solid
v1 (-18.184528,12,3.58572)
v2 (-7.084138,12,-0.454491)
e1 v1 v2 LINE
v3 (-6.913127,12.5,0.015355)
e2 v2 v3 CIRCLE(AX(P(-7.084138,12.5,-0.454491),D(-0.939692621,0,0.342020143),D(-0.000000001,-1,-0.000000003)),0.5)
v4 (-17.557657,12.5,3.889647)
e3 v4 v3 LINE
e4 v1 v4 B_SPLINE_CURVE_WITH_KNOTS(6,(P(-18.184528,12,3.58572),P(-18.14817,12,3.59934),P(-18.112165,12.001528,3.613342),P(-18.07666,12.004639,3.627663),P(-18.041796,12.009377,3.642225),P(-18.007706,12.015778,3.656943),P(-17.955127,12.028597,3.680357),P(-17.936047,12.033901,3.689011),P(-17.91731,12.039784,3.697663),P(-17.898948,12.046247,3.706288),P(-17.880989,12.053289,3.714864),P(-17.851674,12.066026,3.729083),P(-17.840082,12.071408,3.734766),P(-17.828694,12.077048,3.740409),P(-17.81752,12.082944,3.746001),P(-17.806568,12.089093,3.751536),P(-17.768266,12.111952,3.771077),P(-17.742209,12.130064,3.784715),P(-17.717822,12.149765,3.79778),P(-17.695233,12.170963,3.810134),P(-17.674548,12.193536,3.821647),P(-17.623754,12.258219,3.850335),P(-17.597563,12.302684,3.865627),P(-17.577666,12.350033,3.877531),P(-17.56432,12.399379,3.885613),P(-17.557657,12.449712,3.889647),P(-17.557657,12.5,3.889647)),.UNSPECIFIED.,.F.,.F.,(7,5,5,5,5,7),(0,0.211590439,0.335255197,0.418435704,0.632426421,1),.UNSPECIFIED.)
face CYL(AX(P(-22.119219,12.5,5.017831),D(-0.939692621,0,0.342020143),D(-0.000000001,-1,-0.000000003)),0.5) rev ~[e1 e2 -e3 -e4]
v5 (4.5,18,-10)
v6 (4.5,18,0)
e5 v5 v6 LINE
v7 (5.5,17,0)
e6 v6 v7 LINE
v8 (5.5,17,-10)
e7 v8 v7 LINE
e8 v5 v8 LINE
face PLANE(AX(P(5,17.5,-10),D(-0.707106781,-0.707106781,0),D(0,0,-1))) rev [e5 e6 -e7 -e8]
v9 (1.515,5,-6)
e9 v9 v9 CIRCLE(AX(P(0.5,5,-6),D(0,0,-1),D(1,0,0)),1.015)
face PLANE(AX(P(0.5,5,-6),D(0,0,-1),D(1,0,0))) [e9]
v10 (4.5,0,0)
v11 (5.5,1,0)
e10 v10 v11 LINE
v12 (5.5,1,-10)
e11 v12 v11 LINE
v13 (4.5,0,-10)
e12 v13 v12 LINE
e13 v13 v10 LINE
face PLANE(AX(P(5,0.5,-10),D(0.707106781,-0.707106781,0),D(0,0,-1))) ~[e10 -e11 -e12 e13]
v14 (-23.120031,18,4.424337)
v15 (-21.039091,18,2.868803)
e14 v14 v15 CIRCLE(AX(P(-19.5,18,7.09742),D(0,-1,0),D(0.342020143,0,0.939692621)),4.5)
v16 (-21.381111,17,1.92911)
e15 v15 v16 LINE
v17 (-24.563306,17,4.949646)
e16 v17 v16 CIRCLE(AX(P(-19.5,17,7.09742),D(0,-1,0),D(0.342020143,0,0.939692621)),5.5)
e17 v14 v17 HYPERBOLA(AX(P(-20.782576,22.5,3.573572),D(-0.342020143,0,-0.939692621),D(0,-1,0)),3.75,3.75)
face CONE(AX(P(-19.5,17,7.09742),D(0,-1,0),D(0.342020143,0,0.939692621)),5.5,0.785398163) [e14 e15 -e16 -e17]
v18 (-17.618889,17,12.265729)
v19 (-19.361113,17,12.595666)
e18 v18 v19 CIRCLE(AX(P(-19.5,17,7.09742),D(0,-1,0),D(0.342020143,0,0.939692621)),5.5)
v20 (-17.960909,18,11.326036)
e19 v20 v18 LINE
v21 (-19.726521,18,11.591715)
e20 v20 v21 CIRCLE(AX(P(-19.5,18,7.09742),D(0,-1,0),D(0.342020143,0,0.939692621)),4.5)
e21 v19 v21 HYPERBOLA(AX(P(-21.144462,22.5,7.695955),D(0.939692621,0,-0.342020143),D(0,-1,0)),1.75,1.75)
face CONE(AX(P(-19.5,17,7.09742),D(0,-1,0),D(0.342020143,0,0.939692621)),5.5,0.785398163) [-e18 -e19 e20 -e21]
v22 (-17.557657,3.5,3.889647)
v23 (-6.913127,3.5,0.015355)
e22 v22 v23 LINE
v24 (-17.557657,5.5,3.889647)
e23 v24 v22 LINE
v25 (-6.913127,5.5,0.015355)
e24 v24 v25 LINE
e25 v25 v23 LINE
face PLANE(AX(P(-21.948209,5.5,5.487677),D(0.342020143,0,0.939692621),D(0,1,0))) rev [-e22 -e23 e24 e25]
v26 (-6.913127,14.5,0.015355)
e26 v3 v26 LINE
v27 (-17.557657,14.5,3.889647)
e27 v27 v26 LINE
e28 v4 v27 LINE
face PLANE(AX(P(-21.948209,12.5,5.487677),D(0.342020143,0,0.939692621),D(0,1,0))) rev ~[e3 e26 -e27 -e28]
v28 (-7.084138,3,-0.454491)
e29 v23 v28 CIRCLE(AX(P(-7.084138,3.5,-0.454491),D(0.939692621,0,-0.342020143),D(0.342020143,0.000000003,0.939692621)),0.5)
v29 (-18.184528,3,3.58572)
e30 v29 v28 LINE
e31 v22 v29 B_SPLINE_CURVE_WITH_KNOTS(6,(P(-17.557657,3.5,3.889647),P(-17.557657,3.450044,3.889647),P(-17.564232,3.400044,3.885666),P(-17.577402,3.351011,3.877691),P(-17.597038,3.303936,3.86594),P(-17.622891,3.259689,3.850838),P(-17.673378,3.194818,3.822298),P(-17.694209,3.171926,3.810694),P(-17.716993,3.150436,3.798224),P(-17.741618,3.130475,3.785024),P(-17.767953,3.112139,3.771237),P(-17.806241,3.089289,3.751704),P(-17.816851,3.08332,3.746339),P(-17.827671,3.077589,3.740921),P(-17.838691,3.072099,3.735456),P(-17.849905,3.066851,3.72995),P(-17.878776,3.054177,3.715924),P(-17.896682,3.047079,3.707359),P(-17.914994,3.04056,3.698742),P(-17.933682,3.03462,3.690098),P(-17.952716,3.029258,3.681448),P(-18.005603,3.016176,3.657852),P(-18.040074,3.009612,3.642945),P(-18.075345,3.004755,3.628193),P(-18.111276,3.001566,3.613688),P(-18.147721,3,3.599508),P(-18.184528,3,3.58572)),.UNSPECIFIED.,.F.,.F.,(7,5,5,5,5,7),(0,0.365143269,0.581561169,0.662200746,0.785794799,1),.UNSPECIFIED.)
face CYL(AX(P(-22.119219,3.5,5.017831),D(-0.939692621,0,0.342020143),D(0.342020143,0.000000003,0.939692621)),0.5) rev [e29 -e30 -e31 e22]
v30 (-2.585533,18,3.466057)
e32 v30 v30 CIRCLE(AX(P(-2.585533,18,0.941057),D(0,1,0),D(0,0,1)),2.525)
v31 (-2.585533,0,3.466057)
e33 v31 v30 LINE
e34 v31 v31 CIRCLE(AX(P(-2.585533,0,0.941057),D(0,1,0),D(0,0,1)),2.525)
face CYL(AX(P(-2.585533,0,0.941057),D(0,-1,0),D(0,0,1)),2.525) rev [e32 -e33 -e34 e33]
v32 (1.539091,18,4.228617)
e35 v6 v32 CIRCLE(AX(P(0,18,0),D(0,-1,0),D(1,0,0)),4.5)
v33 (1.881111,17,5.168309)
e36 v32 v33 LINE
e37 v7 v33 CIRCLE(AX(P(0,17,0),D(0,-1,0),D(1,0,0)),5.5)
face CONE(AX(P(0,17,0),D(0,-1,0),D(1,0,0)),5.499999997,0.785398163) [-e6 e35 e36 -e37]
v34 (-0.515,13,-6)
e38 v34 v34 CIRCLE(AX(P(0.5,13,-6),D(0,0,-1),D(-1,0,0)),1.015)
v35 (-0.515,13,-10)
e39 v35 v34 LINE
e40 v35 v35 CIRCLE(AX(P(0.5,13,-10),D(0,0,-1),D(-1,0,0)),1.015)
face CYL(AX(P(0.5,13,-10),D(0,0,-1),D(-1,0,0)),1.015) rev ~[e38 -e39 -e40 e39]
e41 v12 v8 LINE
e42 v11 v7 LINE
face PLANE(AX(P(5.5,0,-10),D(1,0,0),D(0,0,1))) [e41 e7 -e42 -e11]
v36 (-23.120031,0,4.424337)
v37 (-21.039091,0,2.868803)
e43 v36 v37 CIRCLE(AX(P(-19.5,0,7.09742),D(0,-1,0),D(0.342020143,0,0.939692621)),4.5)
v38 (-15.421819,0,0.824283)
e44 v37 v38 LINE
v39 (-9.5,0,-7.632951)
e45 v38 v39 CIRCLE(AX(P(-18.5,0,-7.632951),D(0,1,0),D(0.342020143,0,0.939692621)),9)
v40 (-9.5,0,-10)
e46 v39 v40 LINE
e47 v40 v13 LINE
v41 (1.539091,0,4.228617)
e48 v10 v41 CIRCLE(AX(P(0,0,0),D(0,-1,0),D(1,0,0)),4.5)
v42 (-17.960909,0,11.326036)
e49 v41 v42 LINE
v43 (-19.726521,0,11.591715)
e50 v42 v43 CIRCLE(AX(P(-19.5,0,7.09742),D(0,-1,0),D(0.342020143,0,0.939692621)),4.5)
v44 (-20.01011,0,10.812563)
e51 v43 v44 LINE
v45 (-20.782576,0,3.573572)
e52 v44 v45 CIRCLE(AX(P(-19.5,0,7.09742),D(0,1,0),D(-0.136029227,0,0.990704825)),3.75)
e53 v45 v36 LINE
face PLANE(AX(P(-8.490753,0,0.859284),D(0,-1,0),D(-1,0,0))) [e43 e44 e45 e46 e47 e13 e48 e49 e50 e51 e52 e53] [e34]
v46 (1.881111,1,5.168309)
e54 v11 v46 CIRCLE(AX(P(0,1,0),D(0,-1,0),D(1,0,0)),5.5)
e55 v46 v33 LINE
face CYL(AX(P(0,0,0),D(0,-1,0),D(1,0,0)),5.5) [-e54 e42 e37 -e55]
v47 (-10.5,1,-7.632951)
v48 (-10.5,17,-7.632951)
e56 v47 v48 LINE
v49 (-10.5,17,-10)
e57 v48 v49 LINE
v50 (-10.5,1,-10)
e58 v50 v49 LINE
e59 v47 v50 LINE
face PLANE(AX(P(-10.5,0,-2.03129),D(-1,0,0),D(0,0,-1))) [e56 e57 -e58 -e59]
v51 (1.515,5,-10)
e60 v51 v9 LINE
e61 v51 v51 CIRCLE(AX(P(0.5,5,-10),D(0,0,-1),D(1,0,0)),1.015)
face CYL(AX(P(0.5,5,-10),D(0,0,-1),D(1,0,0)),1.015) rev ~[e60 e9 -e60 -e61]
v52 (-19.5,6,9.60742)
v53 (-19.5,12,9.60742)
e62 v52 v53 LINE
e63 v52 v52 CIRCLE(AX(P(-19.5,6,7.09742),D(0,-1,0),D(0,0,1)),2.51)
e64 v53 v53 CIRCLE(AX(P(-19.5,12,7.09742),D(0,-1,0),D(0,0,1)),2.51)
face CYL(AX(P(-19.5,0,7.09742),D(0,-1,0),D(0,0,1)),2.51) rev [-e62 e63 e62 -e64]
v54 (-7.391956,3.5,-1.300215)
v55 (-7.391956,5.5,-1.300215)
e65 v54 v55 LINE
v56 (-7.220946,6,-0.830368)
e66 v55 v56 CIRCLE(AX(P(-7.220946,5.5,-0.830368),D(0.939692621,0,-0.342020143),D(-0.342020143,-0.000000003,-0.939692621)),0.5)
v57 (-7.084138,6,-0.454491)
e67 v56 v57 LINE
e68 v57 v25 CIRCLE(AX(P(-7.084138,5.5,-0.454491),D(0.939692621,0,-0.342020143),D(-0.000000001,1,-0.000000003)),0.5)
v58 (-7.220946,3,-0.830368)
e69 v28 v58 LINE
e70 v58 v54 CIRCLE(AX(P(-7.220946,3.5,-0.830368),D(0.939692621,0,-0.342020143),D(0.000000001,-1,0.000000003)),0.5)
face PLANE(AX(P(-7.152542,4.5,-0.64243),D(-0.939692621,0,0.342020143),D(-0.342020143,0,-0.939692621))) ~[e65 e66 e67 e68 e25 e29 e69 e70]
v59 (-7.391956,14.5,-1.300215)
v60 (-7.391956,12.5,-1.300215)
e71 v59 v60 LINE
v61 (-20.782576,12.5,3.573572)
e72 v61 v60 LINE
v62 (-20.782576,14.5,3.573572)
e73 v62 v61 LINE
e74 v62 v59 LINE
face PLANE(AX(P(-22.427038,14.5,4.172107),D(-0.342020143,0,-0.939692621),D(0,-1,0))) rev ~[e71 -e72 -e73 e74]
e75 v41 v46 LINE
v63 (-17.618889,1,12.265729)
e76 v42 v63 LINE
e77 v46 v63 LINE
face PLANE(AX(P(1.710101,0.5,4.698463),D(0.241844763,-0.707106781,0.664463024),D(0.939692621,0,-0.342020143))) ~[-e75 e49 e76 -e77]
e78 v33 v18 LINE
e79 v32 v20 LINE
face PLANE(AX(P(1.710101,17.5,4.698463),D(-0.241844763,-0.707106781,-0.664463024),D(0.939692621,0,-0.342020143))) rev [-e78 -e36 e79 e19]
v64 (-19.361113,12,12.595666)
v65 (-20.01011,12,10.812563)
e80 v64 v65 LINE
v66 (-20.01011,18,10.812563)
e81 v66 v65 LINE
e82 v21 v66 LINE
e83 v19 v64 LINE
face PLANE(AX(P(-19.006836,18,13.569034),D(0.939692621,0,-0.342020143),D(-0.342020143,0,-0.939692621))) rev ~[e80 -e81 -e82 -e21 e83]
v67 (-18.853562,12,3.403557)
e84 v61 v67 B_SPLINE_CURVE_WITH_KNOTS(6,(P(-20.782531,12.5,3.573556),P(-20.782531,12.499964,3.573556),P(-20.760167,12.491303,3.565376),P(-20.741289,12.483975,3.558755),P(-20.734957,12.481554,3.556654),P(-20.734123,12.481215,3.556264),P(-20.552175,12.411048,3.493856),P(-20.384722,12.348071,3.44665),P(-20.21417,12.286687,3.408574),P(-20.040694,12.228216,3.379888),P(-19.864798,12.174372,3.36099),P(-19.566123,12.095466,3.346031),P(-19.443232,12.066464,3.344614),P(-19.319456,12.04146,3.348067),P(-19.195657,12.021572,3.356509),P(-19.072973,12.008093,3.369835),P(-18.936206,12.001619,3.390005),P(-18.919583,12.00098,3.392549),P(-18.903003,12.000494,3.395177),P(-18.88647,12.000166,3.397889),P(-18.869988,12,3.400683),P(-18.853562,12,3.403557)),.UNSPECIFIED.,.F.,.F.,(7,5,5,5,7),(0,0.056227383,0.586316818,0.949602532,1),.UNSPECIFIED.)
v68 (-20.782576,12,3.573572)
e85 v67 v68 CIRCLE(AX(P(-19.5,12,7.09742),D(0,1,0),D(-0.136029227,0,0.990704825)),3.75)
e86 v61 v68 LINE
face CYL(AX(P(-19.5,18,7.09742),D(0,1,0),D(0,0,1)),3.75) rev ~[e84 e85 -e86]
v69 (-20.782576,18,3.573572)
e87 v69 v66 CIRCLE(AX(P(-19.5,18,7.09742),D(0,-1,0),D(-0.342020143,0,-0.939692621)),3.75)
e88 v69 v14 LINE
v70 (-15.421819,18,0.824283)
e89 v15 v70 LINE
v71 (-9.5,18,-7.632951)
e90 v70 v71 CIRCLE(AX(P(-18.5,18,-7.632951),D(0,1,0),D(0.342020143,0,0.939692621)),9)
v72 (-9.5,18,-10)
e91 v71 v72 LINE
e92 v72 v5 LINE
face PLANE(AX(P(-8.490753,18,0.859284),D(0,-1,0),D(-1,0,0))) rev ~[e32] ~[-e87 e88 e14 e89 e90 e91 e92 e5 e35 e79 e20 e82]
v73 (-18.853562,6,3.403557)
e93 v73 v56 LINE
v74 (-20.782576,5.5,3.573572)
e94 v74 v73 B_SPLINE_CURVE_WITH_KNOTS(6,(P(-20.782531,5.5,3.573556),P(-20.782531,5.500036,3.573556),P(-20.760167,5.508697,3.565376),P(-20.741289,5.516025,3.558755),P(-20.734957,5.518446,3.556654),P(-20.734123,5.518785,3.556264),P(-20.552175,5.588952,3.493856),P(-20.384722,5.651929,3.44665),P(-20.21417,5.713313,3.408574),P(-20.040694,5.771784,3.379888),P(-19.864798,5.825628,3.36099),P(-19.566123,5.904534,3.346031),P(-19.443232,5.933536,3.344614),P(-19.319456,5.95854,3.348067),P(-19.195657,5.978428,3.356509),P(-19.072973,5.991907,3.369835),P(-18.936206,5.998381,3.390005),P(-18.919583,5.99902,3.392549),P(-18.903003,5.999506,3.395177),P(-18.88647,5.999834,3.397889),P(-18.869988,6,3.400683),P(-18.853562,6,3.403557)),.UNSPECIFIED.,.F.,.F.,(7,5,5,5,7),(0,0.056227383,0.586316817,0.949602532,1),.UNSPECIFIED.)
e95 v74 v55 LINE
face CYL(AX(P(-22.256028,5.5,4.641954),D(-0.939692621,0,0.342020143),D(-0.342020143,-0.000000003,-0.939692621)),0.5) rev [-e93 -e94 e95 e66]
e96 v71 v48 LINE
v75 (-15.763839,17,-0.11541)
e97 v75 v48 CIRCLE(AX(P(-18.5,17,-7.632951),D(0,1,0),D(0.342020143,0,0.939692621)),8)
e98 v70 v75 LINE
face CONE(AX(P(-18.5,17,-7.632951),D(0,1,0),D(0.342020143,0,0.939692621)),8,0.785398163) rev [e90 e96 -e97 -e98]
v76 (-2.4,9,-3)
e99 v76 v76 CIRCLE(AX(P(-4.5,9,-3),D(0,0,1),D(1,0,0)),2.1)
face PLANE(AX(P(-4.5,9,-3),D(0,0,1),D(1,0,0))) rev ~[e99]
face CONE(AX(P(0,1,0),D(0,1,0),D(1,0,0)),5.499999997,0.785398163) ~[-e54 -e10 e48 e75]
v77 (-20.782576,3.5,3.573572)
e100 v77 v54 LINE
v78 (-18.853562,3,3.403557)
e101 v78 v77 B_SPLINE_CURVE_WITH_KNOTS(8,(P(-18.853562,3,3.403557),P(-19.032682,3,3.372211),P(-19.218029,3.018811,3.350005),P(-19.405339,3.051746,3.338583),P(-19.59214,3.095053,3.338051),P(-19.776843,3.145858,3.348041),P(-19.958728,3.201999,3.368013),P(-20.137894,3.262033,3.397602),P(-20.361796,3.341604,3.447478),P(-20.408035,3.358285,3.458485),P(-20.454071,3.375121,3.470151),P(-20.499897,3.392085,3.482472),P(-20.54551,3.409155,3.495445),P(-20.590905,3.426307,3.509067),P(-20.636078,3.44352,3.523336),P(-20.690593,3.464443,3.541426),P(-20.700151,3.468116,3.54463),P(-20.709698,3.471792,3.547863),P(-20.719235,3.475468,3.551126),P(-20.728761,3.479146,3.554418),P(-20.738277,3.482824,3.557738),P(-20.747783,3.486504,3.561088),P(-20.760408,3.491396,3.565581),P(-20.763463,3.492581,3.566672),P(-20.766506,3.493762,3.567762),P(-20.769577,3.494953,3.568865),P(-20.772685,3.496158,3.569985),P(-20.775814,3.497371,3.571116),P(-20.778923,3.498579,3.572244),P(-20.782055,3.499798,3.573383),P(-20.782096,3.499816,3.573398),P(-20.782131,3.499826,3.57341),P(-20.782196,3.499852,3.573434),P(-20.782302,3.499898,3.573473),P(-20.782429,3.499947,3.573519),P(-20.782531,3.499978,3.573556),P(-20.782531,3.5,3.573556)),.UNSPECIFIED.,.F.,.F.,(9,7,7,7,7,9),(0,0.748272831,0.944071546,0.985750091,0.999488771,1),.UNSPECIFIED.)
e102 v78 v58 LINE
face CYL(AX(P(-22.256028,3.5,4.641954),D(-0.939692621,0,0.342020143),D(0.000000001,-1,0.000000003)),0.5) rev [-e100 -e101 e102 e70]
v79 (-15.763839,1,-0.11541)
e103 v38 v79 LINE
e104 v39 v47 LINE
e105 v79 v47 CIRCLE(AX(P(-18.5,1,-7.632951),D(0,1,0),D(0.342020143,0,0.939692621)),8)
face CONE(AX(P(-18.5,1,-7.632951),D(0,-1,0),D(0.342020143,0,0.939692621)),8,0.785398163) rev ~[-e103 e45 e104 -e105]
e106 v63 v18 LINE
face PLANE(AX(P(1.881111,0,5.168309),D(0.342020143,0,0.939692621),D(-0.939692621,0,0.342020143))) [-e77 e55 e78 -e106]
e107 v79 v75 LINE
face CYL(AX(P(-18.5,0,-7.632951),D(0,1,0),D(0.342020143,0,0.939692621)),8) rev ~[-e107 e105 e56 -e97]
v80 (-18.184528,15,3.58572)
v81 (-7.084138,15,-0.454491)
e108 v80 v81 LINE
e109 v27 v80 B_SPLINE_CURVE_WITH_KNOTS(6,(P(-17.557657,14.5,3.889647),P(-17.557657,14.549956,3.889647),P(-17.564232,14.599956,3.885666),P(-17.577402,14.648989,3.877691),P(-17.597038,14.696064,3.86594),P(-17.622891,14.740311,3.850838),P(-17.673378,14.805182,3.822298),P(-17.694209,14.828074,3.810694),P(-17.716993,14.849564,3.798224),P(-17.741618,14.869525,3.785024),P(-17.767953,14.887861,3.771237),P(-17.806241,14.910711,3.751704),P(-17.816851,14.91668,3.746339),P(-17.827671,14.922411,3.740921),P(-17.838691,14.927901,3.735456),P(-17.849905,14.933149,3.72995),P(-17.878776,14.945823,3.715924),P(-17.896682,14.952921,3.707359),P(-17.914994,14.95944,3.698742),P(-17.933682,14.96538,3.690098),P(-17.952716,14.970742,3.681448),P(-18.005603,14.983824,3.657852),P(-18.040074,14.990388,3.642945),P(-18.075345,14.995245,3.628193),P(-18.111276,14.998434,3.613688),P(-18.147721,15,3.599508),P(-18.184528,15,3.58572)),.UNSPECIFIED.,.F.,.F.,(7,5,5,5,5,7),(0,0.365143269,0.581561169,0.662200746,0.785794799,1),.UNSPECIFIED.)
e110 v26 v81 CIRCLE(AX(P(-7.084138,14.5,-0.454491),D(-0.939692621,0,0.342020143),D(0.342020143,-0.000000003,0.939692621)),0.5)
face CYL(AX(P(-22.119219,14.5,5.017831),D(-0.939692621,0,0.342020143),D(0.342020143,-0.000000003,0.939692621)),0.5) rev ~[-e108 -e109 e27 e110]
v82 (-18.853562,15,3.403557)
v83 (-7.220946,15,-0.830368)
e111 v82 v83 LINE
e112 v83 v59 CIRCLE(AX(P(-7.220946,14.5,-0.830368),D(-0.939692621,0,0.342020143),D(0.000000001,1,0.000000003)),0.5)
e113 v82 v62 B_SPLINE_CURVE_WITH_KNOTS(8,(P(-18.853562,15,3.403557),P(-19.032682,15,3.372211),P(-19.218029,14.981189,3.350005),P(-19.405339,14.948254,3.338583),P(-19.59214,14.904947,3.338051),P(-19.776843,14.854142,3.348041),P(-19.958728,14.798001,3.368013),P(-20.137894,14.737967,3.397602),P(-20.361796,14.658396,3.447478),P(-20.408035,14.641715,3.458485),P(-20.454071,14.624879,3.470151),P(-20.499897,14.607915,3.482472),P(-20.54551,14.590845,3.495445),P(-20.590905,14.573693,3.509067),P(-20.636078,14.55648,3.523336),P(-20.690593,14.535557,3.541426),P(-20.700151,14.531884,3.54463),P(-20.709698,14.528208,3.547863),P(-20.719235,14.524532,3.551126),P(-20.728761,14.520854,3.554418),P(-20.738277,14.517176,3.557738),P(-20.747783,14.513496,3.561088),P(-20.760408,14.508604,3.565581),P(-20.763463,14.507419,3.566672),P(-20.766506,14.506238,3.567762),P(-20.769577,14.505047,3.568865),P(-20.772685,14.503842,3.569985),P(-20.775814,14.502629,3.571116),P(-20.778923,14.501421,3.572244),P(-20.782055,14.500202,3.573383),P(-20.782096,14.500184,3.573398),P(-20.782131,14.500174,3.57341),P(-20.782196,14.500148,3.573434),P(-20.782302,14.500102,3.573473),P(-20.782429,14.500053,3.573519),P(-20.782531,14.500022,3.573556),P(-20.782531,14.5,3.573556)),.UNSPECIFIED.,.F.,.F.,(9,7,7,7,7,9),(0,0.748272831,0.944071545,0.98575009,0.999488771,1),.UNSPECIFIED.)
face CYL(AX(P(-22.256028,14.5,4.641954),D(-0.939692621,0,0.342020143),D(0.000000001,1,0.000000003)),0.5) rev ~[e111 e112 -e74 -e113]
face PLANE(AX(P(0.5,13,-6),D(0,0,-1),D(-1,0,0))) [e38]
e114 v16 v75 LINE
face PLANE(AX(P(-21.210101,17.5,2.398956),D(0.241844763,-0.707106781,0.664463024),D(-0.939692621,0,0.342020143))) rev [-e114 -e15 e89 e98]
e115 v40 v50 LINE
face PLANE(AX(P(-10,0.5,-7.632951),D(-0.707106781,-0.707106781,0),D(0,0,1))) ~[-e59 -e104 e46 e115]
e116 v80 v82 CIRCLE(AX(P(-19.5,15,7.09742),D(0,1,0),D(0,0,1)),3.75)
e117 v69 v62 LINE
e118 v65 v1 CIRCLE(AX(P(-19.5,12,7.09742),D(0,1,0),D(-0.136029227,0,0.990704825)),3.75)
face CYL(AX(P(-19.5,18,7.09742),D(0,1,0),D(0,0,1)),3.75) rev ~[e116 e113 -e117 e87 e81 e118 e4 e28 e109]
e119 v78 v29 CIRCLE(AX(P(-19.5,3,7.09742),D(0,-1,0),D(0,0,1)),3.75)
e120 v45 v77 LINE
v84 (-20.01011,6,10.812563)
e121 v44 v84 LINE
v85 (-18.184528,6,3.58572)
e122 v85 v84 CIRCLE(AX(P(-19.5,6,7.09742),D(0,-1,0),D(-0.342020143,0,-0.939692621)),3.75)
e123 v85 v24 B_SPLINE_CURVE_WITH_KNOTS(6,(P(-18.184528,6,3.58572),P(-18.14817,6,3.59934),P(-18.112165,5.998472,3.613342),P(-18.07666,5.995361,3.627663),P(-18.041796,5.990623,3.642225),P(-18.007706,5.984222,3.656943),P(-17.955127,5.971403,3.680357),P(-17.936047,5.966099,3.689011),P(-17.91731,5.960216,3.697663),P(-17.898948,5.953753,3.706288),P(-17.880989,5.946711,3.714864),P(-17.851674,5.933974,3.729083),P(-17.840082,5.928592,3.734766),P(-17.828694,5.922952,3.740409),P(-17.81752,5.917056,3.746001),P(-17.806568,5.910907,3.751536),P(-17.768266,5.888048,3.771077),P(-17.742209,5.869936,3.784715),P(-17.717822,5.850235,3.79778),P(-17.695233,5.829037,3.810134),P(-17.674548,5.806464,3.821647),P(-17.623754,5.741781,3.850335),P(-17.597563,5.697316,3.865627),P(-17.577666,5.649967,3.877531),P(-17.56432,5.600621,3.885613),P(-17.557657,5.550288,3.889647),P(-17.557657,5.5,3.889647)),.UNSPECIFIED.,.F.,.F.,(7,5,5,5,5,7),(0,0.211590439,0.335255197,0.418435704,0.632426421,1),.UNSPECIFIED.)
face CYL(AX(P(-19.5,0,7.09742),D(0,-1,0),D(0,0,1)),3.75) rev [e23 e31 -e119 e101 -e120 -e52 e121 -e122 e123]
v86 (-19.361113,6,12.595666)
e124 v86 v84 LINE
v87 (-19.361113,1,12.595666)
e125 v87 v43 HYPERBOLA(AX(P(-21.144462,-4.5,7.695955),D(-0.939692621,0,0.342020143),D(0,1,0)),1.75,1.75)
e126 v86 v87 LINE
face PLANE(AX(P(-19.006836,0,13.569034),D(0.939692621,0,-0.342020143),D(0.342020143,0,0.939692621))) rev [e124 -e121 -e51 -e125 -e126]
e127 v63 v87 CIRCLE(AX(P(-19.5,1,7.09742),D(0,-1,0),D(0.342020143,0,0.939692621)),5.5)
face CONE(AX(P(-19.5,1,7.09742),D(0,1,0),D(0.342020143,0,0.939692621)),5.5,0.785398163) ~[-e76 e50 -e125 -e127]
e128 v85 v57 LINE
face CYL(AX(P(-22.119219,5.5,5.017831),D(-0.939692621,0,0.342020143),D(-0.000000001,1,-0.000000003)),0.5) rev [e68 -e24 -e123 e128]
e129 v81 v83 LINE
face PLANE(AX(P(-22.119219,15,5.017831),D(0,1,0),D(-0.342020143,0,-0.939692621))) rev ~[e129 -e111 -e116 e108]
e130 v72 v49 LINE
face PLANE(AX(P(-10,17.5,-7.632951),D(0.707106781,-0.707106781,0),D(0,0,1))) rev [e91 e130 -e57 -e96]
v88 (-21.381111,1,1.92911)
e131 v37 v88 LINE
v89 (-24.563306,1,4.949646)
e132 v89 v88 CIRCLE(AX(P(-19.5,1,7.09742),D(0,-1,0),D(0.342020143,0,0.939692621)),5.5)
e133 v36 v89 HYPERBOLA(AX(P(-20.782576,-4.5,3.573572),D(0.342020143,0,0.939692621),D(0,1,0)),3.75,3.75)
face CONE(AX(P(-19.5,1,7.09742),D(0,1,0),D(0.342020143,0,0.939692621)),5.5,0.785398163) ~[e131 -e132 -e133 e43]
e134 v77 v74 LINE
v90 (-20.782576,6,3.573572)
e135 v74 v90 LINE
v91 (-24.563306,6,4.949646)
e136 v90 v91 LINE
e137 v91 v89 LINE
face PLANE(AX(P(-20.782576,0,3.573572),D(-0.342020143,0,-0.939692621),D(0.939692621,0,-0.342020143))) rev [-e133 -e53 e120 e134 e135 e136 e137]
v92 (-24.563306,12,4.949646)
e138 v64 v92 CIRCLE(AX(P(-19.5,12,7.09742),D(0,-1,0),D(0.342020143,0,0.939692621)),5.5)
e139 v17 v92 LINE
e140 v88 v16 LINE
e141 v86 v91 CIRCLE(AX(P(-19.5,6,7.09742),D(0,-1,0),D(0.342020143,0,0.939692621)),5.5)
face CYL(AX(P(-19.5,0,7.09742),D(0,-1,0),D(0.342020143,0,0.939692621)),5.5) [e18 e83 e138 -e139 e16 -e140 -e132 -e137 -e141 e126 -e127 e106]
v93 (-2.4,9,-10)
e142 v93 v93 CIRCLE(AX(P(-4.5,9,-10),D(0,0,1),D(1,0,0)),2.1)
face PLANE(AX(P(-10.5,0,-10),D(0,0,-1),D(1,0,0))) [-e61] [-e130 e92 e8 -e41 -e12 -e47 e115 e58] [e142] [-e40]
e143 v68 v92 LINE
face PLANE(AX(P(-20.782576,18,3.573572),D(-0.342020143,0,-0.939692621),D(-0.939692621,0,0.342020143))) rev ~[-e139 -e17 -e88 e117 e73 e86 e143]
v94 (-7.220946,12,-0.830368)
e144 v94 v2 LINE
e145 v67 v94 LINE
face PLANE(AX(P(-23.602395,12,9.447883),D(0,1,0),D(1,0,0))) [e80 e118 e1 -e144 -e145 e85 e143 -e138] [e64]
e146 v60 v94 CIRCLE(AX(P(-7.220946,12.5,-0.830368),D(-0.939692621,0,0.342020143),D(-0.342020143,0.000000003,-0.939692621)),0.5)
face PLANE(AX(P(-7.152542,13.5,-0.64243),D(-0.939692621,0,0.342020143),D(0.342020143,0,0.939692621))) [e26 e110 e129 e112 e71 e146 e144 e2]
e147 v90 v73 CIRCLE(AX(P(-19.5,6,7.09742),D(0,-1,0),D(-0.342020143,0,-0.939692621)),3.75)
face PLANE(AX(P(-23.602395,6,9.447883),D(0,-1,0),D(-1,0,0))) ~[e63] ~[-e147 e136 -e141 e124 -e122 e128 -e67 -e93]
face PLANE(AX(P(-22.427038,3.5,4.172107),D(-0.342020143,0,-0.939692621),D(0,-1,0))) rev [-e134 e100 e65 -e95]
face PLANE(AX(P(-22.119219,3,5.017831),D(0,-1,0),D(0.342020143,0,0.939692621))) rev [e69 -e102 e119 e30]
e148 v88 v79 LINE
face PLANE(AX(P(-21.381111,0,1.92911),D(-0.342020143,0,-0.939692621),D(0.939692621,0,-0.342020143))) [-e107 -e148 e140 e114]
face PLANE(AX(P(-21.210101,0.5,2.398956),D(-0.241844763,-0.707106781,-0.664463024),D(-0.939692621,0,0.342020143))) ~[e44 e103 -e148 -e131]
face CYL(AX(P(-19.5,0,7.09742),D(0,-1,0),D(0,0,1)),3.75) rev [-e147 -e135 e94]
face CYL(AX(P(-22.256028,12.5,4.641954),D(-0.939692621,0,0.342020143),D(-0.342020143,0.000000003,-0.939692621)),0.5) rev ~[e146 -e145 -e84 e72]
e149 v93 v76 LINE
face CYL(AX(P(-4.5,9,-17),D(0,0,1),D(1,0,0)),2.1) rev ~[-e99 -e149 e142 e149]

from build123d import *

# Parameters (mm, degrees)
SKETCH_1_R             = 2.51
SKETCH_1_R_2           = 2.525
EXTRUDE_1_DEPTH        = 18
SKETCH_11_R            = 3.75
CUT_EXTRUDE_5_DEPTH    = 6
FILLET_1_R             = 8
SKETCH_12_R            = 2
CUT_EXTRUDE_6_DEPTH    = 7
CHAMFER_1_SIZE         = 1
CUT_EXTRUDE_8_DEPTH    = 6
SKETCH_18_R            = 1.015
CUT_EXTRUDE_10_DEPTH   = 4
CUT_EXTRUDE_11_DEPTH   = 16
HOLE_WIZARD_M5_1_D     = 4.2
HOLE_WIZARD_M5_1_DEPTH = 7


with BuildPart() as part:
    # 草图1 → 凸台-拉伸1 (new body)
    with BuildSketch(Plane(origin=(0, 0, 0), x_dir=(1, 0, 0), z_dir=(0, 1, 0))):
        with BuildLine():
            Line((-21.381110788, -1.929110154), (-10.5, 2.031290289))
            Line((-10.5, 2.031290289), (-10.5, 10))
            Line((-10.5, 10), (5.5, 10))
            Line((5.5, 10), (5.5, 0))
            ThreePointArc((5.5, 0), (4.505336244, -3.1546704), (1.881110788, -5.168309414))
            Line((1.881110788, -5.168309414), (-17.618889212, -12.265728983))
            ThreePointArc((-17.618889212, -12.265728983), (-24.668309414, -8.978530356), (-21.381110788, -1.929110154))
        make_face()
        with Locations(Location((-19.5, -7.097419568, 0), (0, 0, 270))):
            Circle(SKETCH_1_R, mode=Mode.SUBTRACT)
        with Locations(Location((-2.585532826, -0.941056988, 0), (0, 0, 270))):
            Circle(SKETCH_1_R_2, mode=Mode.SUBTRACT)
    extrude(amount=EXTRUDE_1_DEPTH)

    # 草图11 → 切除-拉伸5 (cut)
    with BuildSketch(Plane(origin=(0, 18, 0), x_dir=(1, 0, 0), z_dir=(0, 1, 0))):
        with Locations(Location((-19.5, -7.097419568, 0), (0, 0, 270))):
            Circle(SKETCH_11_R)
    cut_extrude_5 = extrude(amount=-CUT_EXTRUDE_5_DEPTH, mode=Mode.SUBTRACT)

    # 圆角1
    fillet_1_edges = [part.edges().sort_by_distance(p)[0] for p in [
        (-10.5, 9, -2.031290289),
    ]]
    fillet(fillet_1_edges, radius=FILLET_1_R)

    # 草图12 → 切除-拉伸6 (cut)
    with BuildSketch(Plane(origin=(0, 0, -10), x_dir=(-1, 0, 0), z_dir=(0, 0, -1))):
        with Locations((4.5, 9)):
            Circle(SKETCH_12_R)
    extrude(amount=-CUT_EXTRUDE_6_DEPTH, mode=Mode.SUBTRACT)

    # 倒角1
    chamfer_1_edges = [part.edges().sort_by_distance(p)[0] for p in [
        (-24.668309414, 0, 8.978530356),
        (4.505336244, 18, 3.1546704),
        (5.5, 18, -5),
        (-10.5, 18, -8.816475297),
        (-18.572474821, 0, 0.906850263),
        (-18.572474821, 18, 0.906850263),
        (-11.946783646, 0, -3.044339104),
        (-11.946783646, 18, -3.044339104),
        (-24.668309414, 18, 8.978530356),
        (-10.5, 0, -8.816475297),
        (5.5, 0, -5),
        (-7.868889212, 18, 8.717019198),
        (4.505336244, 0, 3.1546704),
        (-7.868889212, 0, 8.717019198),
    ]]
    chamfer(chamfer_1_edges, length=CHAMFER_1_SIZE)

    # 草图15 → 切除-拉伸8 (cut)
    with BuildSketch(Plane(origin=(0, 18, 0), x_dir=(1, 0, 0), z_dir=(0, 1, 0))):
        with BuildLine():
            Line((-20.782575537, -3.57357224), (-28.300116504, -6.309733387))
            Line((-28.300116504, -6.309733387), (-24.879915071, -15.706659595))
            Line((-24.879915071, -15.706659595), (-19.006836191, -13.569033699))
            Line((-19.006836191, -13.569033699), (-20.0101096, -10.81256266))
            ThreePointArc((-20.0101096, -10.81256266), (-23.228830323, -7.495319585), (-20.782575537, -3.57357224))
        make_face()
    cut_extrude_8 = extrude(amount=-CUT_EXTRUDE_8_DEPTH, mode=Mode.SUBTRACT)

    # 草图18 → 切除-拉伸10 (cut)
    with BuildSketch(Plane(origin=(0, 0, -10), x_dir=(-1, 0, 0), z_dir=(0, 0, -1))):
        with Locations((-0.5, 13)):
            Circle(SKETCH_18_R)
        with Locations(Location((-0.5, 5, 0), (0, 0, 180))):
            Circle(SKETCH_18_R)
    extrude(amount=-CUT_EXTRUDE_10_DEPTH, mode=Mode.SUBTRACT)

    # 草图19 → 切除-拉伸11 (cut)
    with BuildSketch(Plane(origin=(-21.144462086, 0, 7.695954819), x_dir=(0.3420201433256672, 0, 0.939692620785909), z_dir=(-0.9396926207859089, 0, 0.34202014332566716))):
        with BuildLine():
            Line((-3.25, 12), (-2.85, 12))
            ThreePointArc((-2.85, 12), (-2.496446609, 12.146446609), (-2.35, 12.5))
            Line((-2.35, 12.5), (-2.35, 14.5))
            ThreePointArc((-2.35, 14.5), (-2.496446609, 14.853553391), (-2.85, 15))
            Line((-2.85, 15), (-3.25, 15))
            ThreePointArc((-3.25, 15), (-3.603553391, 14.853553391), (-3.75, 14.5))
            Line((-3.75, 14.5), (-3.75, 12.5))
            ThreePointArc((-3.75, 12.5), (-3.603553391, 12.146446609), (-3.25, 12))
        make_face()
    cut_extrude_11 = extrude(amount=-CUT_EXTRUDE_11_DEPTH, mode=Mode.SUBTRACT)

    # 镜向3: 切除-拉伸5, 切除-拉伸8, 切除-拉伸11 across plane
    add(cut_extrude_5.mirror(Plane(origin=(0, 9, 0), x_dir=(0, 0, 1), z_dir=(0, -1, 0))), mode=Mode.SUBTRACT)
    add(cut_extrude_8.mirror(Plane(origin=(0, 9, 0), x_dir=(0, 0, 1), z_dir=(0, -1, 0))), mode=Mode.SUBTRACT)
    add(cut_extrude_11.mirror(Plane(origin=(0, 9, 0), x_dir=(0, 0, 1), z_dir=(0, -1, 0))), mode=Mode.SUBTRACT)

    # M5 螺纹孔1
    with Locations(Plane(origin=(0, 0, -10), x_dir=(-1, 0, 0), z_dir=(0, 0, -1))):
        with Locations((4.5, 9)):
            Hole(HOLE_WIZARD_M5_1_D / 2, depth=HOLE_WIZARD_M5_1_DEPTH)


solid = part.part
